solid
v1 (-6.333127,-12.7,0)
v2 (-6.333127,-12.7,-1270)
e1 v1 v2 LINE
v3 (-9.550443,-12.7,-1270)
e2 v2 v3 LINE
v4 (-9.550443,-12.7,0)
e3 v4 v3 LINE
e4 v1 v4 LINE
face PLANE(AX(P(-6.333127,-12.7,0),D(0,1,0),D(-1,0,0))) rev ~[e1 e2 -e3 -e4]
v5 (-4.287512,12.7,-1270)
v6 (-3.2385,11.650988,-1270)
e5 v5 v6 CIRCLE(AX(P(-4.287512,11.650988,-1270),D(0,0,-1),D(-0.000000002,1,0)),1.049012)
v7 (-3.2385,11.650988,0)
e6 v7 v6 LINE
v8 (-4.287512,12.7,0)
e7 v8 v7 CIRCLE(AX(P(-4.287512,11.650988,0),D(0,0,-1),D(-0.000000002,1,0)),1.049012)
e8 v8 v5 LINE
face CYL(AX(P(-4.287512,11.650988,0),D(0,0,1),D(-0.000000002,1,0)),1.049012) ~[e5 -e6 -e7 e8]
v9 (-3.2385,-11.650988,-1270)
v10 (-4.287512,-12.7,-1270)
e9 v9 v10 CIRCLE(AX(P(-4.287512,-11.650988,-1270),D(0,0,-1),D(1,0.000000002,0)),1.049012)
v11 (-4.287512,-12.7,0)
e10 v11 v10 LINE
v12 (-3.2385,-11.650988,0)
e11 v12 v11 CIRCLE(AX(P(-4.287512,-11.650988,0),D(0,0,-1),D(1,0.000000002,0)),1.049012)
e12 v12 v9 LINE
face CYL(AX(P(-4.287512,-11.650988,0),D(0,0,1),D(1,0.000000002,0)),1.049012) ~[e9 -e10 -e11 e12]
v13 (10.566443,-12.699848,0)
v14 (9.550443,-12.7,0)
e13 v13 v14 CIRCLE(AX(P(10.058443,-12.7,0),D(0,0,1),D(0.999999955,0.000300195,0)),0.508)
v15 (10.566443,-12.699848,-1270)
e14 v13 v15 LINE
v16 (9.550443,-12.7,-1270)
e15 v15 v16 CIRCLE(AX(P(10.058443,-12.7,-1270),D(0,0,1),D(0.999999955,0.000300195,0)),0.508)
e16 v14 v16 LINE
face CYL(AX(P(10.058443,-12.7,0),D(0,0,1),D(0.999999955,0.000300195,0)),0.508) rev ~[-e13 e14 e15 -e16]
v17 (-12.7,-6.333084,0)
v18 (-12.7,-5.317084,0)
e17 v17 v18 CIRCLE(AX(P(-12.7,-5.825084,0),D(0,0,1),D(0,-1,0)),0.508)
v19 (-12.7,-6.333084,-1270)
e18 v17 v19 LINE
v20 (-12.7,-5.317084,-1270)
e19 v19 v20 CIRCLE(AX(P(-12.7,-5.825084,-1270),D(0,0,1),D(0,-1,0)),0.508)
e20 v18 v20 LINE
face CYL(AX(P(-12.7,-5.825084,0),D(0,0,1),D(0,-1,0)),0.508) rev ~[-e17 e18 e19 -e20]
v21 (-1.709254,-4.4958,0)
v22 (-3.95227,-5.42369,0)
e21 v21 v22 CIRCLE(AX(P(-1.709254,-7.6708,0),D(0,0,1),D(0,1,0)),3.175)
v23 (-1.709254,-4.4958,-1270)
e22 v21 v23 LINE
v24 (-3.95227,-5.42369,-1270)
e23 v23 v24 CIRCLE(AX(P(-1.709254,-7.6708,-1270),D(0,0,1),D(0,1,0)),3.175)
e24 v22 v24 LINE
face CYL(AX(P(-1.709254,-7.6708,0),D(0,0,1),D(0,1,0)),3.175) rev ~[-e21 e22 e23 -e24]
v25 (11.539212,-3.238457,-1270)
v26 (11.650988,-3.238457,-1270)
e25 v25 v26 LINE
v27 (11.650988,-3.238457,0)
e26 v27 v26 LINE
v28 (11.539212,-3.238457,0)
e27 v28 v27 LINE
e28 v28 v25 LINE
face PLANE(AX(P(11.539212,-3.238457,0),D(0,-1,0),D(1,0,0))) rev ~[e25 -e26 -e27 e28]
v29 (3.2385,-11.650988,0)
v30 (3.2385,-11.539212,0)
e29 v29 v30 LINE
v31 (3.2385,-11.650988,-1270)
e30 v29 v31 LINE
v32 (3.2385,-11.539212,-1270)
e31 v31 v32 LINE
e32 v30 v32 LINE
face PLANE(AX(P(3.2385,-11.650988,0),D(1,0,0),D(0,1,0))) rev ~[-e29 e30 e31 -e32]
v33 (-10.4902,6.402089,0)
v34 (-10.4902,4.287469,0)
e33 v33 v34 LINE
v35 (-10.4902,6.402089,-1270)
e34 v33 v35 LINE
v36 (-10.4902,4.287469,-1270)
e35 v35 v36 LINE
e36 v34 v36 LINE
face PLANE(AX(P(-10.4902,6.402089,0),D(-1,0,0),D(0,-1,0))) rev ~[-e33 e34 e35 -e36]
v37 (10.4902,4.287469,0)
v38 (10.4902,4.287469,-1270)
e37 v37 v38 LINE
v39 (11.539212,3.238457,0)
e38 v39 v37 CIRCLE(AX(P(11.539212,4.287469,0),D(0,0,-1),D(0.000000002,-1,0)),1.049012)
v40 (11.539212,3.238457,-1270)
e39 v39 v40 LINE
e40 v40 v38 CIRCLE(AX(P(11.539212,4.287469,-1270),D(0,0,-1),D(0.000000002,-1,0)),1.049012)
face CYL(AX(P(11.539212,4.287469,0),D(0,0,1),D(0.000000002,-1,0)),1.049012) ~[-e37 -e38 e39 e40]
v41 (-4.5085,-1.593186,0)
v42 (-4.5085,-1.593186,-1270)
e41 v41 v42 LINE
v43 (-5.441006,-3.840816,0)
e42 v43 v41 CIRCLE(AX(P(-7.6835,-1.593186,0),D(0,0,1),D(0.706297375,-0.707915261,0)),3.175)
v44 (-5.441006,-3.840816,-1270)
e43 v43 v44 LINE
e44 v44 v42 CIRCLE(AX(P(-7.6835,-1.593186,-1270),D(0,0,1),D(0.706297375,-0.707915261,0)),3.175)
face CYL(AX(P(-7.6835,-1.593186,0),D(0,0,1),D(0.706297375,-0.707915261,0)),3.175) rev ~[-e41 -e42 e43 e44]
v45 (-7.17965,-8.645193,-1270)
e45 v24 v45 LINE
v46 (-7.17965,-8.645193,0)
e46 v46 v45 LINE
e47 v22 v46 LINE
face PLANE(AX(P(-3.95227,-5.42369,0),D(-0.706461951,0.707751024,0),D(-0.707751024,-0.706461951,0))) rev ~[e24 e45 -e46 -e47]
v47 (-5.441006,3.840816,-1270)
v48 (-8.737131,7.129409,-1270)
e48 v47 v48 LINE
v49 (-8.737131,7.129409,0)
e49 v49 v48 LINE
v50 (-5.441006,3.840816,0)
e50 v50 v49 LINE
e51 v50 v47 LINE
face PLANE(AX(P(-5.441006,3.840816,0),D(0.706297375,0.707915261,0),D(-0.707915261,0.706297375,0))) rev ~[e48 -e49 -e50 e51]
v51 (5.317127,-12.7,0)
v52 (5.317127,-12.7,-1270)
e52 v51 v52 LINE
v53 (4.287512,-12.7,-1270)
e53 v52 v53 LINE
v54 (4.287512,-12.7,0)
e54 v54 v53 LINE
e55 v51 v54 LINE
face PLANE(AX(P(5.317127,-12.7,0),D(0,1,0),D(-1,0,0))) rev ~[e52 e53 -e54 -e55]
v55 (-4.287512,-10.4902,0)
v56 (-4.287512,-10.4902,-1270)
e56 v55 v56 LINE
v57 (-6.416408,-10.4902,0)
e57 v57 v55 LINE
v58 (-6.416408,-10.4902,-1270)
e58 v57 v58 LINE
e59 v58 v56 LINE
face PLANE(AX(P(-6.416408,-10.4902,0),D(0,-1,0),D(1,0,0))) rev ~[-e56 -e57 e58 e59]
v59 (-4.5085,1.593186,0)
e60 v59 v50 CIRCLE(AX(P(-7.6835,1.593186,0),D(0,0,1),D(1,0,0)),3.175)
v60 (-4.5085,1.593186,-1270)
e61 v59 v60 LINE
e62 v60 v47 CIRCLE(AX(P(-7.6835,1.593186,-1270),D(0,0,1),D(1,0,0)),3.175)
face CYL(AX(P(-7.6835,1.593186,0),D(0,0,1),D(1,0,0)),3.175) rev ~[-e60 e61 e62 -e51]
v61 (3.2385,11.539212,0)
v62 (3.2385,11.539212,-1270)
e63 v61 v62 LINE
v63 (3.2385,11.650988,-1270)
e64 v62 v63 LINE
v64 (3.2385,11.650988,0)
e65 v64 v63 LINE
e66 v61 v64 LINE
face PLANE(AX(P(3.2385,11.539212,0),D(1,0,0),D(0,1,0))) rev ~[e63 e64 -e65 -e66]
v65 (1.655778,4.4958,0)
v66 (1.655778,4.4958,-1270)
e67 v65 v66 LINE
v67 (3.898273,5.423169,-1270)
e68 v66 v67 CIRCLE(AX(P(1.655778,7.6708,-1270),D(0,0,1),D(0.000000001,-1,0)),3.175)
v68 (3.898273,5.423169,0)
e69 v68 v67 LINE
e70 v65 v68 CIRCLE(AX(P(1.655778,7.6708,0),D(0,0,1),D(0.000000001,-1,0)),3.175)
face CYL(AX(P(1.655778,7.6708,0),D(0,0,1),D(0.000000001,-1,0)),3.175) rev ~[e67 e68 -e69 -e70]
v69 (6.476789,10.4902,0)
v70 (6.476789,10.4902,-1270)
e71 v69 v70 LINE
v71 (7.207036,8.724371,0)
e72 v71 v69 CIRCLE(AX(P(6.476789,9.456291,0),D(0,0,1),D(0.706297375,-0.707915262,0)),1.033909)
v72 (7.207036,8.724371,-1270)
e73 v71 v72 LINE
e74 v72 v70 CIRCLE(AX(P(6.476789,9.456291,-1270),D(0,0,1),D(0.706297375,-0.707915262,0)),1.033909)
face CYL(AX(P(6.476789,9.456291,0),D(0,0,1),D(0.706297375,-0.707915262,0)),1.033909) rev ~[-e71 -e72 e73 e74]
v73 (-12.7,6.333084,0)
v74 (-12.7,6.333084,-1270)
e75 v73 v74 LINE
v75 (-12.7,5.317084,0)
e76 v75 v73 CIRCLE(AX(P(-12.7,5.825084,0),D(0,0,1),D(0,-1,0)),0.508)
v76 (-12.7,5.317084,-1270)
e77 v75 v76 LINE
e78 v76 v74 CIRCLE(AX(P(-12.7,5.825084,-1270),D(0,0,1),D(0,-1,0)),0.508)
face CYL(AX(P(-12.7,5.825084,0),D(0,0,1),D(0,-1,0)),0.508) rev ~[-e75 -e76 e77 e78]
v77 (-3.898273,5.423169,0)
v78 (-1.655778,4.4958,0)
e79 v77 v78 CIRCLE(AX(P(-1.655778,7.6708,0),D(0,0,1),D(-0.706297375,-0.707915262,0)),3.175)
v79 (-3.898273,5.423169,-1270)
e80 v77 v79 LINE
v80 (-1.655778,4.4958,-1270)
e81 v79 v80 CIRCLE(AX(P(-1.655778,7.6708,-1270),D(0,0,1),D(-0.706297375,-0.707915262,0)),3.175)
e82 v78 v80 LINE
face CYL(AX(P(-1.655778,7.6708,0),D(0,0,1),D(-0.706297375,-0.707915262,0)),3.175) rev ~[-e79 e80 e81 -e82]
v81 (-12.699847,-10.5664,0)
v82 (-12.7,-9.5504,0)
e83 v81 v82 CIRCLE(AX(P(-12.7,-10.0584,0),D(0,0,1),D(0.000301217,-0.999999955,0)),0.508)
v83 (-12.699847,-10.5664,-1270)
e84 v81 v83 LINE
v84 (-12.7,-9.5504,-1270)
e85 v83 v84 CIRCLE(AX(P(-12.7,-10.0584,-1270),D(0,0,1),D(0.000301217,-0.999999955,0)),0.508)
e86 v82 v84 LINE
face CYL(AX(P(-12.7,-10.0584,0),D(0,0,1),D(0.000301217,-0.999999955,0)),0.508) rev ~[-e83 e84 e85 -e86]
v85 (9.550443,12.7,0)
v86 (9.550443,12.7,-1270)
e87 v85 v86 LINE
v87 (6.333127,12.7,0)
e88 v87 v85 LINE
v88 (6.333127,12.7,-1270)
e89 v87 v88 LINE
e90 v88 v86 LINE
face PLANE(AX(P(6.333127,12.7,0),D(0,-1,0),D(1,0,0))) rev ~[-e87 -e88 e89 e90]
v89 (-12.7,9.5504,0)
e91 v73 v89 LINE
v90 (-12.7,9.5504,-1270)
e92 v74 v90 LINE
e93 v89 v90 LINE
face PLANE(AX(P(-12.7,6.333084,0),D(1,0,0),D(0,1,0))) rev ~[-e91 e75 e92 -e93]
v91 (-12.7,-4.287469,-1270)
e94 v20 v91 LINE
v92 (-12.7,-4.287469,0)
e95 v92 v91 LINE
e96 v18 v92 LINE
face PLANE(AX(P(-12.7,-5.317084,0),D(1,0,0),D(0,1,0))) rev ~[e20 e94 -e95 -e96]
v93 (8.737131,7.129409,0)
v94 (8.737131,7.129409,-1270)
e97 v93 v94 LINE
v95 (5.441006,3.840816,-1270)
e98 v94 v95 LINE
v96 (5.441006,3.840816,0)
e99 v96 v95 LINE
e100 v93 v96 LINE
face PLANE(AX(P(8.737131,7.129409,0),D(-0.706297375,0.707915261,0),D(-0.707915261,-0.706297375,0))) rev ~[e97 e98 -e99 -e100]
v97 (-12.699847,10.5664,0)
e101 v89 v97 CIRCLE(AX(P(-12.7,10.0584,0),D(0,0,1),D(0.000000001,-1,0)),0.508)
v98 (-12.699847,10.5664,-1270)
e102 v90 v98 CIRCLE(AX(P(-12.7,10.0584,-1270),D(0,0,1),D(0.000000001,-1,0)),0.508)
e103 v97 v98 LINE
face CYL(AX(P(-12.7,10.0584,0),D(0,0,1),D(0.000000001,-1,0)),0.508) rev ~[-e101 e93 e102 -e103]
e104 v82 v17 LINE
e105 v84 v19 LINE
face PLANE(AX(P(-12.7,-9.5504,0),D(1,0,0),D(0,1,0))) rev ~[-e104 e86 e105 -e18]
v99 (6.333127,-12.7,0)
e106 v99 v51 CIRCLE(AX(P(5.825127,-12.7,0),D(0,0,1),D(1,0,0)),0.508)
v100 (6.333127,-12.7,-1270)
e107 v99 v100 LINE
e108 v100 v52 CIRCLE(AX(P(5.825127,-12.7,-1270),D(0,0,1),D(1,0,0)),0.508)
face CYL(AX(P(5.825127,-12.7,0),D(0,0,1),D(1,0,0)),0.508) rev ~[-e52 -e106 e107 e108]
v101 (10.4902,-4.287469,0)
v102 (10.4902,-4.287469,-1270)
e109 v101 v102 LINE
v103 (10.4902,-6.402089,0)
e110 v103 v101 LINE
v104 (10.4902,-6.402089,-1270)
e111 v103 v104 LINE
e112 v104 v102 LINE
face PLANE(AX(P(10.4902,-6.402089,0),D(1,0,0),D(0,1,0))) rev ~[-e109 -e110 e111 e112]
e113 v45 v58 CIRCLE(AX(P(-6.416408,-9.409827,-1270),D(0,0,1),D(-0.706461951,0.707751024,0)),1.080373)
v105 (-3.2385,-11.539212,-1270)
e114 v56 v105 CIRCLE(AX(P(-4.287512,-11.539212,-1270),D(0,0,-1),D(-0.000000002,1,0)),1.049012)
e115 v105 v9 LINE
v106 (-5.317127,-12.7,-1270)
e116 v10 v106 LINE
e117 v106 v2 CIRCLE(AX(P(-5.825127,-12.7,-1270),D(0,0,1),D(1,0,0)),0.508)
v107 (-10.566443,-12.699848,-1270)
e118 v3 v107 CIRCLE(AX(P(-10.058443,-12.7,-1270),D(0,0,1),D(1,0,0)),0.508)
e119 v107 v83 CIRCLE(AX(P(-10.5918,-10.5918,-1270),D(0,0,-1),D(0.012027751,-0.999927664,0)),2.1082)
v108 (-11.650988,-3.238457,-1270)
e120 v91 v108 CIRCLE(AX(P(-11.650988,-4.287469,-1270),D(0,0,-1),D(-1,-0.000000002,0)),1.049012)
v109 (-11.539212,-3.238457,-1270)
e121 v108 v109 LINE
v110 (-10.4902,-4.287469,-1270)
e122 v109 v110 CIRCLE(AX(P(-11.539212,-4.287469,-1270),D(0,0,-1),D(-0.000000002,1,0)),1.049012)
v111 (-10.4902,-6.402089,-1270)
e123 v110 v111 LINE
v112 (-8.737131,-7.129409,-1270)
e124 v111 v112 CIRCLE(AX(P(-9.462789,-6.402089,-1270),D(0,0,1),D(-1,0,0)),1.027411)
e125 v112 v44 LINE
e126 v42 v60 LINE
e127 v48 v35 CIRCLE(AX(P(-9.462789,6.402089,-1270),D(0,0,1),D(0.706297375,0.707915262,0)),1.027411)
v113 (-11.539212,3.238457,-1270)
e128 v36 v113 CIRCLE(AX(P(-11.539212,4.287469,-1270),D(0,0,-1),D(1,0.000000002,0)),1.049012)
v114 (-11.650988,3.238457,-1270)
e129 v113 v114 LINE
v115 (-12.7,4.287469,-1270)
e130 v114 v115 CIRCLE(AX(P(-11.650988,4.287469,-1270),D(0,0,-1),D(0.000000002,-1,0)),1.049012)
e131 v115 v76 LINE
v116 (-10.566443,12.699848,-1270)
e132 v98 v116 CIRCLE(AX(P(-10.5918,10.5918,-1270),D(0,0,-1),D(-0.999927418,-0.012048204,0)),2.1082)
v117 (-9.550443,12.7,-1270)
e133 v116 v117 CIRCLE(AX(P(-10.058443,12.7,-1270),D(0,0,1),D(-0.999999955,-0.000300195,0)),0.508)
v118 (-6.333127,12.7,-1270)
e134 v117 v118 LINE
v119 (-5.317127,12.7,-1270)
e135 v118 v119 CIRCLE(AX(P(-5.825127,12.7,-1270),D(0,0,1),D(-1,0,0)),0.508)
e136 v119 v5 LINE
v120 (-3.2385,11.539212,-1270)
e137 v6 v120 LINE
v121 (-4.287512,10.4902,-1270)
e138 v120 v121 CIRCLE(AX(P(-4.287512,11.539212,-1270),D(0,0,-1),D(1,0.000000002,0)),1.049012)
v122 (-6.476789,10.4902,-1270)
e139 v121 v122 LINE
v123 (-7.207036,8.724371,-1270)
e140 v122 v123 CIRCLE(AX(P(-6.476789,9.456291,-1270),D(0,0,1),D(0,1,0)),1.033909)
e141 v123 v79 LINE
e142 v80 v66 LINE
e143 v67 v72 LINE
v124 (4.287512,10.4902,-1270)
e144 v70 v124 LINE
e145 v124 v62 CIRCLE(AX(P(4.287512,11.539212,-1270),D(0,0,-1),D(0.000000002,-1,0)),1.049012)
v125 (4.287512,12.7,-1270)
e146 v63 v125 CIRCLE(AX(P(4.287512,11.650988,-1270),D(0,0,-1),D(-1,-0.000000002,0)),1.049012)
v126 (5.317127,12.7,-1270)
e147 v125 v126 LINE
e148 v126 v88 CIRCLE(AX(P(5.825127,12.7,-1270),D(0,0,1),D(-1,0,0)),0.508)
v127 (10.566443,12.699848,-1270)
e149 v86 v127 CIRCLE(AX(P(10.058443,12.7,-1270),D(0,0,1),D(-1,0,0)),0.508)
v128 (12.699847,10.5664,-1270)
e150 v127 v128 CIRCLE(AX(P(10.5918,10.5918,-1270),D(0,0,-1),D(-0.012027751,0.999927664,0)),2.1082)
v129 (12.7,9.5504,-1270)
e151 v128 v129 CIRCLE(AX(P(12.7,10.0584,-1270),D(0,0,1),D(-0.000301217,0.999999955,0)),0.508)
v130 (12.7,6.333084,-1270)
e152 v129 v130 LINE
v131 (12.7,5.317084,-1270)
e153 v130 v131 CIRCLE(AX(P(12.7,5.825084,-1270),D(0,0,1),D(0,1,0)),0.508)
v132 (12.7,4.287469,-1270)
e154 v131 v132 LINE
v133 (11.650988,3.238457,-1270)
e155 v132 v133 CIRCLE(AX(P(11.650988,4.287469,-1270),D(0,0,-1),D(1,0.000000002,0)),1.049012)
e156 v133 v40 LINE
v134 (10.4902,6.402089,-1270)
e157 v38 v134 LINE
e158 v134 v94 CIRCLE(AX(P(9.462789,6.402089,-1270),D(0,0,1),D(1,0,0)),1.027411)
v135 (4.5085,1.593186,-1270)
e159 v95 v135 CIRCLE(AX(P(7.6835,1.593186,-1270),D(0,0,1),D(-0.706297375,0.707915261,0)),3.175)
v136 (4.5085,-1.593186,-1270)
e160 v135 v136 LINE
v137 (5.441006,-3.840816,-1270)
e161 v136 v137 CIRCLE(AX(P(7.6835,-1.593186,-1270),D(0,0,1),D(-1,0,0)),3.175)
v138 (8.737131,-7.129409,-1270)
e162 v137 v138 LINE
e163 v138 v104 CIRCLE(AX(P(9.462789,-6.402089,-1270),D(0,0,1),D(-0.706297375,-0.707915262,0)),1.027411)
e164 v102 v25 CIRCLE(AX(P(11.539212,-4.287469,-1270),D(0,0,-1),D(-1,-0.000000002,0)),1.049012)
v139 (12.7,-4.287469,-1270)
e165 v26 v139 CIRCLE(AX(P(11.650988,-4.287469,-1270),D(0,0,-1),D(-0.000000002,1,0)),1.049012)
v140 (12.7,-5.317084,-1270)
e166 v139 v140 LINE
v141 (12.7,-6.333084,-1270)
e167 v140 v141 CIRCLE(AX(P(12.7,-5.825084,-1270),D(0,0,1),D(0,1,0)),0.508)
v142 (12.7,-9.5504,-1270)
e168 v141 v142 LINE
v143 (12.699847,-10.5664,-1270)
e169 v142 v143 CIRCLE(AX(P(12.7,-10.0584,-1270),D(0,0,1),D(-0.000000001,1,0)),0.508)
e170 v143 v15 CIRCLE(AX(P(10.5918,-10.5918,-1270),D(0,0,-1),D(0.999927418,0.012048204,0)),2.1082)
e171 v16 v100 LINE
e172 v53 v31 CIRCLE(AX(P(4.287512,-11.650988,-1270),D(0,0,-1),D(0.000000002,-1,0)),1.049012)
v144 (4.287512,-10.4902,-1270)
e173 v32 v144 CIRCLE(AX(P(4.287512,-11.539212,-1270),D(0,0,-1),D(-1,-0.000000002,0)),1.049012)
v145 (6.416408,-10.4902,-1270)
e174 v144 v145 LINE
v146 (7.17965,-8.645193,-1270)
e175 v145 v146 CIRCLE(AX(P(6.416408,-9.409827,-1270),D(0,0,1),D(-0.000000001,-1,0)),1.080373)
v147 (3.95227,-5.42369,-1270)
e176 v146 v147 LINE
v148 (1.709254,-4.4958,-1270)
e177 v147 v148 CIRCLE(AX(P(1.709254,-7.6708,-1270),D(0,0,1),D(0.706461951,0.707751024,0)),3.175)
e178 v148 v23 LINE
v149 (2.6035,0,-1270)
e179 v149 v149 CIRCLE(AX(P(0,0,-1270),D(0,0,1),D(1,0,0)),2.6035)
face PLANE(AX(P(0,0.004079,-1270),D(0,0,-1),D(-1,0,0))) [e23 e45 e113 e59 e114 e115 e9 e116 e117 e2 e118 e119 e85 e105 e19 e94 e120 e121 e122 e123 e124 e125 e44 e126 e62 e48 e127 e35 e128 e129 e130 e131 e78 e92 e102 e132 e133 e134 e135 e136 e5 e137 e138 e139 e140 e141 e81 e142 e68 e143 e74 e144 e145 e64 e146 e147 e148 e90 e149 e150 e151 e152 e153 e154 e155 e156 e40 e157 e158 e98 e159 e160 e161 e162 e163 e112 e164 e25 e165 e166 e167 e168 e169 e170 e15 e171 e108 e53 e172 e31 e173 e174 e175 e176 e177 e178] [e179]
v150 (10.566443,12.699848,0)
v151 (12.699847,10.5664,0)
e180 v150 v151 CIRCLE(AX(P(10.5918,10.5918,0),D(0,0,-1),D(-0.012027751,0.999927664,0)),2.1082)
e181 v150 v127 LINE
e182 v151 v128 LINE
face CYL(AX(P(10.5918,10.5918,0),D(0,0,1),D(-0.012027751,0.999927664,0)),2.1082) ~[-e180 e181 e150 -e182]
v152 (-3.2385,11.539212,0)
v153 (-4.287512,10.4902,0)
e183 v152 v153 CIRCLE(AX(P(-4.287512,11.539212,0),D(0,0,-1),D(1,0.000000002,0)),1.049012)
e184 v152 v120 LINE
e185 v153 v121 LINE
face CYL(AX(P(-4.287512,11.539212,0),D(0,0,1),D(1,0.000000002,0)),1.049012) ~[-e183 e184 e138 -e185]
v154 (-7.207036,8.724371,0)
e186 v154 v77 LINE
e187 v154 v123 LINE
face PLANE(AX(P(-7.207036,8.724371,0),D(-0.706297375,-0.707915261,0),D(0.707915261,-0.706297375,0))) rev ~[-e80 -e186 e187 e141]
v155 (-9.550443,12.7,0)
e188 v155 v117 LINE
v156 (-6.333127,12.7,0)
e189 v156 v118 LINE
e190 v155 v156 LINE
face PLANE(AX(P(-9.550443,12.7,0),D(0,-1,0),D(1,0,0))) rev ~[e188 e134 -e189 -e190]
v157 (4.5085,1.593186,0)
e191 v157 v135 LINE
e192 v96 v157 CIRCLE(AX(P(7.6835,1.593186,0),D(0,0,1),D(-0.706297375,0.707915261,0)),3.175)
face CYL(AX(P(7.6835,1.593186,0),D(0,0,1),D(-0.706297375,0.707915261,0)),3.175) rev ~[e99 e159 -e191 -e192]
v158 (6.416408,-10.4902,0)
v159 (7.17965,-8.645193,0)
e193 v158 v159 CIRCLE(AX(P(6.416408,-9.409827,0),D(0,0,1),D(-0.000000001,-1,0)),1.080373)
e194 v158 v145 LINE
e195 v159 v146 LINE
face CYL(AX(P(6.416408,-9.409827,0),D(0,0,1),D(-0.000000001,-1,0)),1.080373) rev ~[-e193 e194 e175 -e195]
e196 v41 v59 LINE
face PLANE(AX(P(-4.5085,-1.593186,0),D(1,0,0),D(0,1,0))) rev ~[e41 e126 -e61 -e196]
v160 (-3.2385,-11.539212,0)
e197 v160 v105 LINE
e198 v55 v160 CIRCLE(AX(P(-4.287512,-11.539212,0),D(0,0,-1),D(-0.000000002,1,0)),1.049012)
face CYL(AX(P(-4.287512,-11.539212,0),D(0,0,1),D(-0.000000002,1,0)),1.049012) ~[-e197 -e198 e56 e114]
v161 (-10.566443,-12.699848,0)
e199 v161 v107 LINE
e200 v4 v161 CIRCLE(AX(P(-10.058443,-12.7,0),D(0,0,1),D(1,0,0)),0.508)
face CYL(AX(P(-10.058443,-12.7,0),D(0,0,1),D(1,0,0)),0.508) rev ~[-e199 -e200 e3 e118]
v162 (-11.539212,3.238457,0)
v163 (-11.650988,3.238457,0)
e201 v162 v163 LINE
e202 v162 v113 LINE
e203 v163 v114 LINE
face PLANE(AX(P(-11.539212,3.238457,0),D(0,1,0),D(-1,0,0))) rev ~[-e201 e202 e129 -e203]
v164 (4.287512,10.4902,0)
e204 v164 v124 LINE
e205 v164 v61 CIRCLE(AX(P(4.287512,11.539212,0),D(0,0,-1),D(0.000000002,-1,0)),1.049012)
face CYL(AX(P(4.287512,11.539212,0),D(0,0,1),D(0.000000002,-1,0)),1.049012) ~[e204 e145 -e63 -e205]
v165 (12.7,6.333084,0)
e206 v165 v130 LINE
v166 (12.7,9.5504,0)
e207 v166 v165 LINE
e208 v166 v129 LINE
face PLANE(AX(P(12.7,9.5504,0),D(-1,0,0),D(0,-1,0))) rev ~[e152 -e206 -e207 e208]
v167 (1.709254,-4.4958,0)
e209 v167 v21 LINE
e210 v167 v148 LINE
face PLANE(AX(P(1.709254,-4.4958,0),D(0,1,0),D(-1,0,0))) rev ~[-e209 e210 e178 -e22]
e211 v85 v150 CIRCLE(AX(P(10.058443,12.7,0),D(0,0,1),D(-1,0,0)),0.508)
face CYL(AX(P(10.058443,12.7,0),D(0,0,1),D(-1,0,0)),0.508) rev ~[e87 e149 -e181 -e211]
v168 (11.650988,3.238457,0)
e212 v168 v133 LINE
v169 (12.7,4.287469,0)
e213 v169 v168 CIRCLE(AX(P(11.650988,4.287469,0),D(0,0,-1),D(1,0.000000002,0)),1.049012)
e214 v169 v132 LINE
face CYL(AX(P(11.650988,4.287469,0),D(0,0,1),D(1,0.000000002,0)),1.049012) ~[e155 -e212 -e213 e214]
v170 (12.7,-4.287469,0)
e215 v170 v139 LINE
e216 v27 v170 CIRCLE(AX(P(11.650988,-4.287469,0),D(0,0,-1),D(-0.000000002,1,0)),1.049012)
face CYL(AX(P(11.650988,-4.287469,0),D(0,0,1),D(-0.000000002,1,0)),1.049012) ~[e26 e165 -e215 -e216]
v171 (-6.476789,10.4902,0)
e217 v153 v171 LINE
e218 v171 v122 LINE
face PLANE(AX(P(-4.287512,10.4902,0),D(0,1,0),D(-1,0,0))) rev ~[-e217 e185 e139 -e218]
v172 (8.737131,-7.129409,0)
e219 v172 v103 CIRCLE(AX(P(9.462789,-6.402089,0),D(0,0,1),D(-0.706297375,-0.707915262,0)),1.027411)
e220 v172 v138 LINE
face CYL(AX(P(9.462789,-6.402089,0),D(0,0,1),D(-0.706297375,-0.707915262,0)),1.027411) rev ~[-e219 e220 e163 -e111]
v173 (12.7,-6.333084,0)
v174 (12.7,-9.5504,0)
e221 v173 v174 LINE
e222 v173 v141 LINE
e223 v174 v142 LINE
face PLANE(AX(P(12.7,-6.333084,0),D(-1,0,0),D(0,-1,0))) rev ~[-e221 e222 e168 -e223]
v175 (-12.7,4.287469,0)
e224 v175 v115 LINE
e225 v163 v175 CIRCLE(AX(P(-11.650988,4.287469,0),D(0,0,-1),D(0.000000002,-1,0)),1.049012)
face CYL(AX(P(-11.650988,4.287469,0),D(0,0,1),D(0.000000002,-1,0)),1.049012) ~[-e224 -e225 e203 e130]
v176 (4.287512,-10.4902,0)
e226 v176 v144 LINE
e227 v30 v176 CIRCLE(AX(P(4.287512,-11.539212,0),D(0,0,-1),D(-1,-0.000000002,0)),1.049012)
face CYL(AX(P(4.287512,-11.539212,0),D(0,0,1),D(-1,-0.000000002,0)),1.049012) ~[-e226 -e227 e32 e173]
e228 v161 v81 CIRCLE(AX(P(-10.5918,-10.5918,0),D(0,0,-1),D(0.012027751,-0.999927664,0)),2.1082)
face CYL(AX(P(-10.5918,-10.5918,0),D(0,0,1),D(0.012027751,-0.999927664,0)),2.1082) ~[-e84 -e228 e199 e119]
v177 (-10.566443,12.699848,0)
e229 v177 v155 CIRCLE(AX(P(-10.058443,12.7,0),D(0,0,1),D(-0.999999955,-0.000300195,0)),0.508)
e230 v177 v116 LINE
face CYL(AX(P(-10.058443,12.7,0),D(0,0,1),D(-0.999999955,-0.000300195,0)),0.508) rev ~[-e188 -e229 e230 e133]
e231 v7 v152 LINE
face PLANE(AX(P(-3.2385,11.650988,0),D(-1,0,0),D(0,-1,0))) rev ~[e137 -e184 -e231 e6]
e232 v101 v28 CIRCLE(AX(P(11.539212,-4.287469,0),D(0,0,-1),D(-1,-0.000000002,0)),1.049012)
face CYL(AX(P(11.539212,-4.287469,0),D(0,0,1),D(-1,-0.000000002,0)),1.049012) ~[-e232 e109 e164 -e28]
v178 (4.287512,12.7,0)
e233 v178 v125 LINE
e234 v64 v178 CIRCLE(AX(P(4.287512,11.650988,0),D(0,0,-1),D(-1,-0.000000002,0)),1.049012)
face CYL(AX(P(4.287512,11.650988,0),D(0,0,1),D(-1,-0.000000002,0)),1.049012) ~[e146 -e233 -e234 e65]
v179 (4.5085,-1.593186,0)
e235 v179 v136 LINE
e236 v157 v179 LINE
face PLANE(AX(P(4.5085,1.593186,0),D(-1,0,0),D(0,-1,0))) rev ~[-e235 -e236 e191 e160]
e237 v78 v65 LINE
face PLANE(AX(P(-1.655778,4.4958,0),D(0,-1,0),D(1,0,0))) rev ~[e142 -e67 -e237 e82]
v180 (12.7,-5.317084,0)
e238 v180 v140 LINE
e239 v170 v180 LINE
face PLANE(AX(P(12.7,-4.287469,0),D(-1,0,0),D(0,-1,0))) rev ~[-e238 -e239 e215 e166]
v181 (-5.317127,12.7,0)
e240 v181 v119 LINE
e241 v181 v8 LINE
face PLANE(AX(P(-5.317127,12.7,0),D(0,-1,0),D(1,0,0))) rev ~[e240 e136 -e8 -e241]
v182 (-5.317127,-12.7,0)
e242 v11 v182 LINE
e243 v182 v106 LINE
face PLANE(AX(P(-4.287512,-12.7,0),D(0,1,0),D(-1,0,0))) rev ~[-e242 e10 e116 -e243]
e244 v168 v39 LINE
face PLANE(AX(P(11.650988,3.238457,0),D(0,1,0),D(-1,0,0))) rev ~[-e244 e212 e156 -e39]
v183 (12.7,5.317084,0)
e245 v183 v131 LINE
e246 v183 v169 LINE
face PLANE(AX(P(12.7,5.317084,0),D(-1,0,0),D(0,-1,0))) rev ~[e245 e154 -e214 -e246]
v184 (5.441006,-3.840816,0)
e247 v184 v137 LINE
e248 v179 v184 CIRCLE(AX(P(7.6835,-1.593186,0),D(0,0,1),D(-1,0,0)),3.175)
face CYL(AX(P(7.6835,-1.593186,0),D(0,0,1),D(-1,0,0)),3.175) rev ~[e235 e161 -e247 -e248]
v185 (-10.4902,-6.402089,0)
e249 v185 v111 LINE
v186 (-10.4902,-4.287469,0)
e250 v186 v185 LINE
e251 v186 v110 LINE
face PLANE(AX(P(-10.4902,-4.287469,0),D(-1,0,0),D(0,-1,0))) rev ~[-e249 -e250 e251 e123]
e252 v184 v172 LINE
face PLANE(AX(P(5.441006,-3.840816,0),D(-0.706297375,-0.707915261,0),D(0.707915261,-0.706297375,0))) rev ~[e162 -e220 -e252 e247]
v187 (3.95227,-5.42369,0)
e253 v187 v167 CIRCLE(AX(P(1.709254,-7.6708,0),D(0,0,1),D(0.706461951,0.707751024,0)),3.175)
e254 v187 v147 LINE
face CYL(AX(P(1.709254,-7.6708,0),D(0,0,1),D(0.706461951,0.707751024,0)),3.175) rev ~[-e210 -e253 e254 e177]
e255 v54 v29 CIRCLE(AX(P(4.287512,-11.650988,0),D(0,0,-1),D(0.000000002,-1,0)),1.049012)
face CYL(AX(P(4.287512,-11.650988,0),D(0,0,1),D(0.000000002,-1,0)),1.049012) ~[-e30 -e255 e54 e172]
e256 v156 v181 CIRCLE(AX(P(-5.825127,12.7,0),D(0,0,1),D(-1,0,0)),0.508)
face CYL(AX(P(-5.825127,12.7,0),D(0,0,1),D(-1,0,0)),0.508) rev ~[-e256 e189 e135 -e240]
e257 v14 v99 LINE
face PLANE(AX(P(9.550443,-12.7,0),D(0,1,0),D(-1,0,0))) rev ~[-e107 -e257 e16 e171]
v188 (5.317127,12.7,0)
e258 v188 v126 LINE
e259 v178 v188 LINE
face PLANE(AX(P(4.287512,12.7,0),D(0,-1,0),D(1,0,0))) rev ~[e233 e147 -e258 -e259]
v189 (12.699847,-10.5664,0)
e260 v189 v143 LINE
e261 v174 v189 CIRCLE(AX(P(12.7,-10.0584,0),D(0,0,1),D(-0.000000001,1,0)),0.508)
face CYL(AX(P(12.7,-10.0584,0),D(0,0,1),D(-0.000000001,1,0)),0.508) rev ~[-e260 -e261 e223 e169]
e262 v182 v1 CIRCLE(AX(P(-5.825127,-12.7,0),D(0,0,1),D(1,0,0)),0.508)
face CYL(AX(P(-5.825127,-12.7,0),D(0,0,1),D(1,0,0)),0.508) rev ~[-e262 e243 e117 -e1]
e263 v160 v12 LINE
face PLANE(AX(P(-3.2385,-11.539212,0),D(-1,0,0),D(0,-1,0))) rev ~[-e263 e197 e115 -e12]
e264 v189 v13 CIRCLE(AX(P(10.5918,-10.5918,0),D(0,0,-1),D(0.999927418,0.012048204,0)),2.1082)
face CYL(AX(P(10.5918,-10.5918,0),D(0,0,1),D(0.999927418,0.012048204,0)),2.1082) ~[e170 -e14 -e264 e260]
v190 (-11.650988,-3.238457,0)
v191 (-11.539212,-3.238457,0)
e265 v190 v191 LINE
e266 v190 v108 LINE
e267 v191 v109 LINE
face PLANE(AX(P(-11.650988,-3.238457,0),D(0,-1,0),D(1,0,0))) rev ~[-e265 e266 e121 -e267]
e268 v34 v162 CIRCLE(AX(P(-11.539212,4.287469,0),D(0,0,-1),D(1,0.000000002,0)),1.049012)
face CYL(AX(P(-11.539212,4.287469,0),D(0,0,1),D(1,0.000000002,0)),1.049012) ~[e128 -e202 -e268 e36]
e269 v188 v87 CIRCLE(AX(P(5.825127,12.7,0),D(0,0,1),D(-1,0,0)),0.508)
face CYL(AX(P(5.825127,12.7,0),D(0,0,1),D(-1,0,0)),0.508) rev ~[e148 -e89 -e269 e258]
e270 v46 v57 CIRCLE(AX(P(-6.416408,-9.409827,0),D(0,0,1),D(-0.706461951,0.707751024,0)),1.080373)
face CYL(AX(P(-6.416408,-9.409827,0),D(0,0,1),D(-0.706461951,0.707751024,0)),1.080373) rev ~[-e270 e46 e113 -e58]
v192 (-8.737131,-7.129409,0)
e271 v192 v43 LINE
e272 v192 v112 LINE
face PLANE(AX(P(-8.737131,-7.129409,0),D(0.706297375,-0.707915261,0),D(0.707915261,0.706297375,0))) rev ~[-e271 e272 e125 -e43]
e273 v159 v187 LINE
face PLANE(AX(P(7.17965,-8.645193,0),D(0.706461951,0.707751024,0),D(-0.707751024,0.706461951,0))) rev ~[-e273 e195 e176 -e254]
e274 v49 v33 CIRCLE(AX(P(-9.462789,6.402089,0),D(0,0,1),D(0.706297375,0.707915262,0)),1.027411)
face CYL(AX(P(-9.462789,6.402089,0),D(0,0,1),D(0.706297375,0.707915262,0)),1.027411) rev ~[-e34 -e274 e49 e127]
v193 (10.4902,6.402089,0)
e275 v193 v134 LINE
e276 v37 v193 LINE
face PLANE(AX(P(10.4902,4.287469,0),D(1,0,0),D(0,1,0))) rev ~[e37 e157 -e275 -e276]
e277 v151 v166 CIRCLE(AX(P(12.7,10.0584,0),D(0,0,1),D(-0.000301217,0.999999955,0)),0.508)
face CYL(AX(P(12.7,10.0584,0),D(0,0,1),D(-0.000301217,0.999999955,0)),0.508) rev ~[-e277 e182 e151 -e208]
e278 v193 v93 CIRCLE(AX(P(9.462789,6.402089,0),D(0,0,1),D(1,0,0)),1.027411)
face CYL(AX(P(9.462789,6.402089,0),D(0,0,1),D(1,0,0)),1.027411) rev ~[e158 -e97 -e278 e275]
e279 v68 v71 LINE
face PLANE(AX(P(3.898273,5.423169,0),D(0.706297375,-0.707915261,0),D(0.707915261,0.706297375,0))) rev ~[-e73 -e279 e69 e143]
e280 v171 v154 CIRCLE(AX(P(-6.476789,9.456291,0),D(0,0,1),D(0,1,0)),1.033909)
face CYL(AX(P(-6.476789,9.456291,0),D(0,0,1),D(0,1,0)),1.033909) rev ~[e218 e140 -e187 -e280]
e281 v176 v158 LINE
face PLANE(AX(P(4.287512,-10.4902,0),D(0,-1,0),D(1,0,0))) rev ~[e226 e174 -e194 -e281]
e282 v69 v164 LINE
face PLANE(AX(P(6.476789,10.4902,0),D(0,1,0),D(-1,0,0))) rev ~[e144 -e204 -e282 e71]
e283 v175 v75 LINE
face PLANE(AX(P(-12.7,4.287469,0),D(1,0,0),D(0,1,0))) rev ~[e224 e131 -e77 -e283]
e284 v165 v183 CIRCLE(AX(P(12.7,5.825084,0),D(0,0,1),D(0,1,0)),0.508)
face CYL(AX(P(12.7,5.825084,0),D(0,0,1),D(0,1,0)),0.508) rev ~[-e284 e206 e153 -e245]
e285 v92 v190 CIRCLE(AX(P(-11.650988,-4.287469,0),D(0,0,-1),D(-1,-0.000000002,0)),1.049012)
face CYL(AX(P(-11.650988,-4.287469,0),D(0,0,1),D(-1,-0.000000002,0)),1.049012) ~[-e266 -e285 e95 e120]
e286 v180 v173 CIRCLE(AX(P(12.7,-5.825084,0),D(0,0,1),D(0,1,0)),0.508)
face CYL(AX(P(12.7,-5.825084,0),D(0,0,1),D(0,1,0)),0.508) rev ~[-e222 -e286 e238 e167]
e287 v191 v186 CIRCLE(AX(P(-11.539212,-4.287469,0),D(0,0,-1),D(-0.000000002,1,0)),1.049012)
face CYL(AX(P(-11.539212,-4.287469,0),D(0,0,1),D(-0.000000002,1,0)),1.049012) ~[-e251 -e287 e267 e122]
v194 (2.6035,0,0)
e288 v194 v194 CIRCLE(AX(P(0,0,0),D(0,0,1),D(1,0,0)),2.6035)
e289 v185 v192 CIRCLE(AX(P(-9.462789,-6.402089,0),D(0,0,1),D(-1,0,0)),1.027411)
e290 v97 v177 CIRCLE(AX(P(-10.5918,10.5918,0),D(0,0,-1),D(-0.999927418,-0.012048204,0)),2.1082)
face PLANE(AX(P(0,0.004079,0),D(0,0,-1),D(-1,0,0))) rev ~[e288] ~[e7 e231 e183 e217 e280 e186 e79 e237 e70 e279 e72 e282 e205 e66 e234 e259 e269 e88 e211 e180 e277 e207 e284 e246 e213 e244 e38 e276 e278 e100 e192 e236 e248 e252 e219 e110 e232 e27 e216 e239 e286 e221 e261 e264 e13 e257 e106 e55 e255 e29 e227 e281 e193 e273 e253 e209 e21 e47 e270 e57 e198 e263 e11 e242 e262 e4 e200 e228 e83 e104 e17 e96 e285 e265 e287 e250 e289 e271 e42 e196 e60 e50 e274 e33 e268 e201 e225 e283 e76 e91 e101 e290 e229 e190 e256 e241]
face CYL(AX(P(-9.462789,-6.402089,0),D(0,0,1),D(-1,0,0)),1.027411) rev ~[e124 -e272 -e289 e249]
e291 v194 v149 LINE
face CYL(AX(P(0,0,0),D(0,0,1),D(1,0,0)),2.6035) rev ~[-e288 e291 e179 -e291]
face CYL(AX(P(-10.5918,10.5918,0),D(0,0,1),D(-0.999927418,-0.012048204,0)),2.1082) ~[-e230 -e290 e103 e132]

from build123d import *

# Parameters (mm, degrees)
SKETCH1_R      = 2.6035
EXTRUDE1_DEPTH = 1270


with BuildPart() as part:
    # Sketch1 → Extrude1 (new body)
    with BuildSketch(Plane.XY):
        with BuildLine():
            Line((-7.207036008, 8.724370562), (-3.898272566, 5.423169045))
            ThreePointArc((-3.898272566, 5.423169045), (-2.869120213, 4.736787962), (-1.655778399, 4.4958))
            Line((-1.655778399, 4.4958), (1.655778399, 4.4958))
            ThreePointArc((1.655778399, 4.4958), (2.869120213, 4.736787962), (3.898272566, 5.423169045))
            Line((3.898272566, 5.423169045), (7.207036008, 8.724370562))
            ThreePointArc((7.207036008, 8.724370562), (7.432222385, 9.85140422), (6.476788598, 10.4902))
            Line((6.476788598, 10.4902), (4.287512407, 10.4902))
            ThreePointArc((4.287512407, 10.4902), (3.54574862, 10.79744862), (3.2385, 11.539212407))
            Line((3.2385, 11.539212407), (3.2385, 11.650987593))
            ThreePointArc((3.2385, 11.650987593), (3.54574862, 12.39275138), (4.287512407, 12.7))
            Line((4.287512407, 12.7), (5.317126718, 12.7))
            ThreePointArc((5.317126718, 12.7), (5.825126718, 12.192), (6.333126718, 12.7))
            Line((6.333126718, 12.7), (9.550443118, 12.7))
            ThreePointArc((9.550443118, 12.7), (10.058366869, 12.192000006), (10.566443095, 12.699847501))
            ThreePointArc((10.566443095, 12.699847501), (12.082537762, 12.08250727), (12.699846982, 10.566399977))
            ThreePointArc((12.699846982, 10.566399977), (12.192000006, 10.058323491), (12.7, 9.5504))
            Line((12.7, 9.5504), (12.7, 6.3330836))
            ThreePointArc((12.7, 6.3330836), (12.192, 5.8250836), (12.7, 5.3170836))
            Line((12.7, 5.3170836), (12.7, 4.287469289))
            ThreePointArc((12.7, 4.287469289), (12.39275138, 3.545705502), (11.650987593, 3.238456882))
            Line((11.650987593, 3.238456882), (11.539212407, 3.238456882))
            ThreePointArc((11.539212407, 3.238456882), (10.79744862, 3.545705502), (10.4902, 4.287469289))
            Line((10.4902, 4.287469289), (10.4902, 6.402089023))
            ThreePointArc((10.4902, 6.402089023), (9.856505071, 7.351067942), (8.737131347, 7.129408934))
            Line((8.737131347, 7.129408934), (5.441005833, 3.840816462))
            ThreePointArc((5.441005833, 3.840816462), (4.750877967, 2.809883091), (4.5085, 1.593185507))
            Line((4.5085, 1.593185507), (4.5085, -1.593185507))
            ThreePointArc((4.5085, -1.593185507), (4.750877967, -2.809883091), (5.441005833, -3.840816462))
            Line((5.441005833, -3.840816462), (8.737131347, -7.129408934))
            ThreePointArc((8.737131347, -7.129408934), (9.856505071, -7.351067942), (10.4902, -6.402089023))
            Line((10.4902, -6.402089023), (10.4902, -4.287469289))
            ThreePointArc((10.4902, -4.287469289), (10.79744862, -3.545705502), (11.539212407, -3.238456882))
            Line((11.539212407, -3.238456882), (11.650987593, -3.238456882))
            ThreePointArc((11.650987593, -3.238456882), (12.39275138, -3.545705502), (12.7, -4.287469289))
            Line((12.7, -4.287469289), (12.7, -5.3170836))
            ThreePointArc((12.7, -5.3170836), (12.192, -5.8250836), (12.7, -6.3330836))
            Line((12.7, -6.3330836), (12.7, -9.5504))
            ThreePointArc((12.7, -9.5504), (12.192000006, -10.058323491), (12.699846982, -10.566399977))
            ThreePointArc((12.699846982, -10.566399977), (12.082537762, -12.08250727), (10.566443095, -12.699847501))
            ThreePointArc((10.566443095, -12.699847501), (10.058366869, -12.192000006), (9.550443118, -12.7))
            Line((9.550443118, -12.7), (6.333126718, -12.7))
            ThreePointArc((6.333126718, -12.7), (5.825126718, -12.192), (5.317126718, -12.7))
            Line((5.317126718, -12.7), (4.287512407, -12.7))
            ThreePointArc((4.287512407, -12.7), (3.54574862, -12.39275138), (3.2385, -11.650987593))
            Line((3.2385, -11.650987593), (3.2385, -11.539212407))
            ThreePointArc((3.2385, -11.539212407), (3.54574862, -10.79744862), (4.287512407, -10.4902))
            Line((4.287512407, -10.4902), (6.416408329, -10.4902))
            ThreePointArc((6.416408329, -10.4902), (7.41473083, -9.822813117), (7.179650497, -8.645192506))
            Line((7.179650497, -8.645192506), (3.952270251, -5.423690499))
            ThreePointArc((3.952270251, -5.423690499), (2.922936451, -4.736929036), (1.709253557, -4.4958))
            Line((1.709253557, -4.4958), (-1.709253557, -4.4958))
            ThreePointArc((-1.709253557, -4.4958), (-2.922936451, -4.736929036), (-3.952270251, -5.423690499))
            Line((-3.952270251, -5.423690499), (-7.179650497, -8.645192506))
            ThreePointArc((-7.179650497, -8.645192506), (-7.41473083, -9.822813117), (-6.416408329, -10.4902))
            Line((-6.416408329, -10.4902), (-4.287512407, -10.4902))
            ThreePointArc((-4.287512407, -10.4902), (-3.54574862, -10.79744862), (-3.2385, -11.539212407))
            Line((-3.2385, -11.539212407), (-3.2385, -11.650987593))
            ThreePointArc((-3.2385, -11.650987593), (-3.54574862, -12.39275138), (-4.287512407, -12.7))
            Line((-4.287512407, -12.7), (-5.317126718, -12.7))
            ThreePointArc((-5.317126718, -12.7), (-5.825126718, -12.192), (-6.333126718, -12.7))
            Line((-6.333126718, -12.7), (-9.550443118, -12.7))
            ThreePointArc((-9.550443118, -12.7), (-10.058366869, -12.192000006), (-10.566443095, -12.699847501))
            ThreePointArc((-10.566443095, -12.699847501), (-12.082537762, -12.08250727), (-12.699846982, -10.566399977))
            ThreePointArc((-12.699846982, -10.566399977), (-12.192000006, -10.058323491), (-12.7, -9.5504))
            Line((-12.7, -9.5504), (-12.7, -6.3330836))
            ThreePointArc((-12.7, -6.3330836), (-12.192, -5.8250836), (-12.7, -5.3170836))
            Line((-12.7, -5.3170836), (-12.7, -4.287469289))
            ThreePointArc((-12.7, -4.287469289), (-12.39275138, -3.545705502), (-11.650987593, -3.238456882))
            Line((-11.650987593, -3.238456882), (-11.539212407, -3.238456882))
            ThreePointArc((-11.539212407, -3.238456882), (-10.79744862, -3.545705502), (-10.4902, -4.287469289))
            Line((-10.4902, -4.287469289), (-10.4902, -6.402089023))
            ThreePointArc((-10.4902, -6.402089023), (-9.856505071, -7.351067942), (-8.737131347, -7.129408934))
            Line((-8.737131347, -7.129408934), (-5.441005833, -3.840816462))
            ThreePointArc((-5.441005833, -3.840816462), (-4.750877967, -2.809883091), (-4.5085, -1.593185507))
            Line((-4.5085, -1.593185507), (-4.5085, 1.593185507))
            ThreePointArc((-4.5085, 1.593185507), (-4.750877967, 2.809883091), (-5.441005833, 3.840816462))
            Line((-5.441005833, 3.840816462), (-8.737131347, 7.129408934))
            ThreePointArc((-8.737131347, 7.129408934), (-9.856505071, 7.351067942), (-10.4902, 6.402089023))
            Line((-10.4902, 6.402089023), (-10.4902, 4.287469289))
            ThreePointArc((-10.4902, 4.287469289), (-10.79744862, 3.545705502), (-11.539212407, 3.238456882))
            Line((-11.539212407, 3.238456882), (-11.650987593, 3.238456882))
            ThreePointArc((-11.650987593, 3.238456882), (-12.39275138, 3.545705502), (-12.7, 4.287469289))
            Line((-12.7, 4.287469289), (-12.7, 5.3170836))
            ThreePointArc((-12.7, 5.3170836), (-12.192, 5.8250836), (-12.7, 6.3330836))
            Line((-12.7, 6.3330836), (-12.7, 9.5504))
            ThreePointArc((-12.7, 9.5504), (-12.192000006, 10.058323491), (-12.699846982, 10.566399977))
            ThreePointArc((-12.699846982, 10.566399977), (-12.082537762, 12.08250727), (-10.566443095, 12.699847501))
            ThreePointArc((-10.566443095, 12.699847501), (-10.058366869, 12.192000006), (-9.550443118, 12.7))
            Line((-9.550443118, 12.7), (-6.333126718, 12.7))
            ThreePointArc((-6.333126718, 12.7), (-5.825126718, 12.192), (-5.317126718, 12.7))
            Line((-5.317126718, 12.7), (-4.287512407, 12.7))
            ThreePointArc((-4.287512407, 12.7), (-3.54574862, 12.39275138), (-3.2385, 11.650987593))
            Line((-3.2385, 11.650987593), (-3.2385, 11.539212407))
            ThreePointArc((-3.2385, 11.539212407), (-3.54574862, 10.79744862), (-4.287512407, 10.4902))
            Line((-4.287512407, 10.4902), (-6.476788598, 10.4902))
            ThreePointArc((-6.476788598, 10.4902), (-7.432222385, 9.85140422), (-7.207036008, 8.724370562))
        make_face()
        Circle(SKETCH1_R, mode=Mode.SUBTRACT)
    extrude(amount=-EXTRUDE1_DEPTH)


solid = part.part
